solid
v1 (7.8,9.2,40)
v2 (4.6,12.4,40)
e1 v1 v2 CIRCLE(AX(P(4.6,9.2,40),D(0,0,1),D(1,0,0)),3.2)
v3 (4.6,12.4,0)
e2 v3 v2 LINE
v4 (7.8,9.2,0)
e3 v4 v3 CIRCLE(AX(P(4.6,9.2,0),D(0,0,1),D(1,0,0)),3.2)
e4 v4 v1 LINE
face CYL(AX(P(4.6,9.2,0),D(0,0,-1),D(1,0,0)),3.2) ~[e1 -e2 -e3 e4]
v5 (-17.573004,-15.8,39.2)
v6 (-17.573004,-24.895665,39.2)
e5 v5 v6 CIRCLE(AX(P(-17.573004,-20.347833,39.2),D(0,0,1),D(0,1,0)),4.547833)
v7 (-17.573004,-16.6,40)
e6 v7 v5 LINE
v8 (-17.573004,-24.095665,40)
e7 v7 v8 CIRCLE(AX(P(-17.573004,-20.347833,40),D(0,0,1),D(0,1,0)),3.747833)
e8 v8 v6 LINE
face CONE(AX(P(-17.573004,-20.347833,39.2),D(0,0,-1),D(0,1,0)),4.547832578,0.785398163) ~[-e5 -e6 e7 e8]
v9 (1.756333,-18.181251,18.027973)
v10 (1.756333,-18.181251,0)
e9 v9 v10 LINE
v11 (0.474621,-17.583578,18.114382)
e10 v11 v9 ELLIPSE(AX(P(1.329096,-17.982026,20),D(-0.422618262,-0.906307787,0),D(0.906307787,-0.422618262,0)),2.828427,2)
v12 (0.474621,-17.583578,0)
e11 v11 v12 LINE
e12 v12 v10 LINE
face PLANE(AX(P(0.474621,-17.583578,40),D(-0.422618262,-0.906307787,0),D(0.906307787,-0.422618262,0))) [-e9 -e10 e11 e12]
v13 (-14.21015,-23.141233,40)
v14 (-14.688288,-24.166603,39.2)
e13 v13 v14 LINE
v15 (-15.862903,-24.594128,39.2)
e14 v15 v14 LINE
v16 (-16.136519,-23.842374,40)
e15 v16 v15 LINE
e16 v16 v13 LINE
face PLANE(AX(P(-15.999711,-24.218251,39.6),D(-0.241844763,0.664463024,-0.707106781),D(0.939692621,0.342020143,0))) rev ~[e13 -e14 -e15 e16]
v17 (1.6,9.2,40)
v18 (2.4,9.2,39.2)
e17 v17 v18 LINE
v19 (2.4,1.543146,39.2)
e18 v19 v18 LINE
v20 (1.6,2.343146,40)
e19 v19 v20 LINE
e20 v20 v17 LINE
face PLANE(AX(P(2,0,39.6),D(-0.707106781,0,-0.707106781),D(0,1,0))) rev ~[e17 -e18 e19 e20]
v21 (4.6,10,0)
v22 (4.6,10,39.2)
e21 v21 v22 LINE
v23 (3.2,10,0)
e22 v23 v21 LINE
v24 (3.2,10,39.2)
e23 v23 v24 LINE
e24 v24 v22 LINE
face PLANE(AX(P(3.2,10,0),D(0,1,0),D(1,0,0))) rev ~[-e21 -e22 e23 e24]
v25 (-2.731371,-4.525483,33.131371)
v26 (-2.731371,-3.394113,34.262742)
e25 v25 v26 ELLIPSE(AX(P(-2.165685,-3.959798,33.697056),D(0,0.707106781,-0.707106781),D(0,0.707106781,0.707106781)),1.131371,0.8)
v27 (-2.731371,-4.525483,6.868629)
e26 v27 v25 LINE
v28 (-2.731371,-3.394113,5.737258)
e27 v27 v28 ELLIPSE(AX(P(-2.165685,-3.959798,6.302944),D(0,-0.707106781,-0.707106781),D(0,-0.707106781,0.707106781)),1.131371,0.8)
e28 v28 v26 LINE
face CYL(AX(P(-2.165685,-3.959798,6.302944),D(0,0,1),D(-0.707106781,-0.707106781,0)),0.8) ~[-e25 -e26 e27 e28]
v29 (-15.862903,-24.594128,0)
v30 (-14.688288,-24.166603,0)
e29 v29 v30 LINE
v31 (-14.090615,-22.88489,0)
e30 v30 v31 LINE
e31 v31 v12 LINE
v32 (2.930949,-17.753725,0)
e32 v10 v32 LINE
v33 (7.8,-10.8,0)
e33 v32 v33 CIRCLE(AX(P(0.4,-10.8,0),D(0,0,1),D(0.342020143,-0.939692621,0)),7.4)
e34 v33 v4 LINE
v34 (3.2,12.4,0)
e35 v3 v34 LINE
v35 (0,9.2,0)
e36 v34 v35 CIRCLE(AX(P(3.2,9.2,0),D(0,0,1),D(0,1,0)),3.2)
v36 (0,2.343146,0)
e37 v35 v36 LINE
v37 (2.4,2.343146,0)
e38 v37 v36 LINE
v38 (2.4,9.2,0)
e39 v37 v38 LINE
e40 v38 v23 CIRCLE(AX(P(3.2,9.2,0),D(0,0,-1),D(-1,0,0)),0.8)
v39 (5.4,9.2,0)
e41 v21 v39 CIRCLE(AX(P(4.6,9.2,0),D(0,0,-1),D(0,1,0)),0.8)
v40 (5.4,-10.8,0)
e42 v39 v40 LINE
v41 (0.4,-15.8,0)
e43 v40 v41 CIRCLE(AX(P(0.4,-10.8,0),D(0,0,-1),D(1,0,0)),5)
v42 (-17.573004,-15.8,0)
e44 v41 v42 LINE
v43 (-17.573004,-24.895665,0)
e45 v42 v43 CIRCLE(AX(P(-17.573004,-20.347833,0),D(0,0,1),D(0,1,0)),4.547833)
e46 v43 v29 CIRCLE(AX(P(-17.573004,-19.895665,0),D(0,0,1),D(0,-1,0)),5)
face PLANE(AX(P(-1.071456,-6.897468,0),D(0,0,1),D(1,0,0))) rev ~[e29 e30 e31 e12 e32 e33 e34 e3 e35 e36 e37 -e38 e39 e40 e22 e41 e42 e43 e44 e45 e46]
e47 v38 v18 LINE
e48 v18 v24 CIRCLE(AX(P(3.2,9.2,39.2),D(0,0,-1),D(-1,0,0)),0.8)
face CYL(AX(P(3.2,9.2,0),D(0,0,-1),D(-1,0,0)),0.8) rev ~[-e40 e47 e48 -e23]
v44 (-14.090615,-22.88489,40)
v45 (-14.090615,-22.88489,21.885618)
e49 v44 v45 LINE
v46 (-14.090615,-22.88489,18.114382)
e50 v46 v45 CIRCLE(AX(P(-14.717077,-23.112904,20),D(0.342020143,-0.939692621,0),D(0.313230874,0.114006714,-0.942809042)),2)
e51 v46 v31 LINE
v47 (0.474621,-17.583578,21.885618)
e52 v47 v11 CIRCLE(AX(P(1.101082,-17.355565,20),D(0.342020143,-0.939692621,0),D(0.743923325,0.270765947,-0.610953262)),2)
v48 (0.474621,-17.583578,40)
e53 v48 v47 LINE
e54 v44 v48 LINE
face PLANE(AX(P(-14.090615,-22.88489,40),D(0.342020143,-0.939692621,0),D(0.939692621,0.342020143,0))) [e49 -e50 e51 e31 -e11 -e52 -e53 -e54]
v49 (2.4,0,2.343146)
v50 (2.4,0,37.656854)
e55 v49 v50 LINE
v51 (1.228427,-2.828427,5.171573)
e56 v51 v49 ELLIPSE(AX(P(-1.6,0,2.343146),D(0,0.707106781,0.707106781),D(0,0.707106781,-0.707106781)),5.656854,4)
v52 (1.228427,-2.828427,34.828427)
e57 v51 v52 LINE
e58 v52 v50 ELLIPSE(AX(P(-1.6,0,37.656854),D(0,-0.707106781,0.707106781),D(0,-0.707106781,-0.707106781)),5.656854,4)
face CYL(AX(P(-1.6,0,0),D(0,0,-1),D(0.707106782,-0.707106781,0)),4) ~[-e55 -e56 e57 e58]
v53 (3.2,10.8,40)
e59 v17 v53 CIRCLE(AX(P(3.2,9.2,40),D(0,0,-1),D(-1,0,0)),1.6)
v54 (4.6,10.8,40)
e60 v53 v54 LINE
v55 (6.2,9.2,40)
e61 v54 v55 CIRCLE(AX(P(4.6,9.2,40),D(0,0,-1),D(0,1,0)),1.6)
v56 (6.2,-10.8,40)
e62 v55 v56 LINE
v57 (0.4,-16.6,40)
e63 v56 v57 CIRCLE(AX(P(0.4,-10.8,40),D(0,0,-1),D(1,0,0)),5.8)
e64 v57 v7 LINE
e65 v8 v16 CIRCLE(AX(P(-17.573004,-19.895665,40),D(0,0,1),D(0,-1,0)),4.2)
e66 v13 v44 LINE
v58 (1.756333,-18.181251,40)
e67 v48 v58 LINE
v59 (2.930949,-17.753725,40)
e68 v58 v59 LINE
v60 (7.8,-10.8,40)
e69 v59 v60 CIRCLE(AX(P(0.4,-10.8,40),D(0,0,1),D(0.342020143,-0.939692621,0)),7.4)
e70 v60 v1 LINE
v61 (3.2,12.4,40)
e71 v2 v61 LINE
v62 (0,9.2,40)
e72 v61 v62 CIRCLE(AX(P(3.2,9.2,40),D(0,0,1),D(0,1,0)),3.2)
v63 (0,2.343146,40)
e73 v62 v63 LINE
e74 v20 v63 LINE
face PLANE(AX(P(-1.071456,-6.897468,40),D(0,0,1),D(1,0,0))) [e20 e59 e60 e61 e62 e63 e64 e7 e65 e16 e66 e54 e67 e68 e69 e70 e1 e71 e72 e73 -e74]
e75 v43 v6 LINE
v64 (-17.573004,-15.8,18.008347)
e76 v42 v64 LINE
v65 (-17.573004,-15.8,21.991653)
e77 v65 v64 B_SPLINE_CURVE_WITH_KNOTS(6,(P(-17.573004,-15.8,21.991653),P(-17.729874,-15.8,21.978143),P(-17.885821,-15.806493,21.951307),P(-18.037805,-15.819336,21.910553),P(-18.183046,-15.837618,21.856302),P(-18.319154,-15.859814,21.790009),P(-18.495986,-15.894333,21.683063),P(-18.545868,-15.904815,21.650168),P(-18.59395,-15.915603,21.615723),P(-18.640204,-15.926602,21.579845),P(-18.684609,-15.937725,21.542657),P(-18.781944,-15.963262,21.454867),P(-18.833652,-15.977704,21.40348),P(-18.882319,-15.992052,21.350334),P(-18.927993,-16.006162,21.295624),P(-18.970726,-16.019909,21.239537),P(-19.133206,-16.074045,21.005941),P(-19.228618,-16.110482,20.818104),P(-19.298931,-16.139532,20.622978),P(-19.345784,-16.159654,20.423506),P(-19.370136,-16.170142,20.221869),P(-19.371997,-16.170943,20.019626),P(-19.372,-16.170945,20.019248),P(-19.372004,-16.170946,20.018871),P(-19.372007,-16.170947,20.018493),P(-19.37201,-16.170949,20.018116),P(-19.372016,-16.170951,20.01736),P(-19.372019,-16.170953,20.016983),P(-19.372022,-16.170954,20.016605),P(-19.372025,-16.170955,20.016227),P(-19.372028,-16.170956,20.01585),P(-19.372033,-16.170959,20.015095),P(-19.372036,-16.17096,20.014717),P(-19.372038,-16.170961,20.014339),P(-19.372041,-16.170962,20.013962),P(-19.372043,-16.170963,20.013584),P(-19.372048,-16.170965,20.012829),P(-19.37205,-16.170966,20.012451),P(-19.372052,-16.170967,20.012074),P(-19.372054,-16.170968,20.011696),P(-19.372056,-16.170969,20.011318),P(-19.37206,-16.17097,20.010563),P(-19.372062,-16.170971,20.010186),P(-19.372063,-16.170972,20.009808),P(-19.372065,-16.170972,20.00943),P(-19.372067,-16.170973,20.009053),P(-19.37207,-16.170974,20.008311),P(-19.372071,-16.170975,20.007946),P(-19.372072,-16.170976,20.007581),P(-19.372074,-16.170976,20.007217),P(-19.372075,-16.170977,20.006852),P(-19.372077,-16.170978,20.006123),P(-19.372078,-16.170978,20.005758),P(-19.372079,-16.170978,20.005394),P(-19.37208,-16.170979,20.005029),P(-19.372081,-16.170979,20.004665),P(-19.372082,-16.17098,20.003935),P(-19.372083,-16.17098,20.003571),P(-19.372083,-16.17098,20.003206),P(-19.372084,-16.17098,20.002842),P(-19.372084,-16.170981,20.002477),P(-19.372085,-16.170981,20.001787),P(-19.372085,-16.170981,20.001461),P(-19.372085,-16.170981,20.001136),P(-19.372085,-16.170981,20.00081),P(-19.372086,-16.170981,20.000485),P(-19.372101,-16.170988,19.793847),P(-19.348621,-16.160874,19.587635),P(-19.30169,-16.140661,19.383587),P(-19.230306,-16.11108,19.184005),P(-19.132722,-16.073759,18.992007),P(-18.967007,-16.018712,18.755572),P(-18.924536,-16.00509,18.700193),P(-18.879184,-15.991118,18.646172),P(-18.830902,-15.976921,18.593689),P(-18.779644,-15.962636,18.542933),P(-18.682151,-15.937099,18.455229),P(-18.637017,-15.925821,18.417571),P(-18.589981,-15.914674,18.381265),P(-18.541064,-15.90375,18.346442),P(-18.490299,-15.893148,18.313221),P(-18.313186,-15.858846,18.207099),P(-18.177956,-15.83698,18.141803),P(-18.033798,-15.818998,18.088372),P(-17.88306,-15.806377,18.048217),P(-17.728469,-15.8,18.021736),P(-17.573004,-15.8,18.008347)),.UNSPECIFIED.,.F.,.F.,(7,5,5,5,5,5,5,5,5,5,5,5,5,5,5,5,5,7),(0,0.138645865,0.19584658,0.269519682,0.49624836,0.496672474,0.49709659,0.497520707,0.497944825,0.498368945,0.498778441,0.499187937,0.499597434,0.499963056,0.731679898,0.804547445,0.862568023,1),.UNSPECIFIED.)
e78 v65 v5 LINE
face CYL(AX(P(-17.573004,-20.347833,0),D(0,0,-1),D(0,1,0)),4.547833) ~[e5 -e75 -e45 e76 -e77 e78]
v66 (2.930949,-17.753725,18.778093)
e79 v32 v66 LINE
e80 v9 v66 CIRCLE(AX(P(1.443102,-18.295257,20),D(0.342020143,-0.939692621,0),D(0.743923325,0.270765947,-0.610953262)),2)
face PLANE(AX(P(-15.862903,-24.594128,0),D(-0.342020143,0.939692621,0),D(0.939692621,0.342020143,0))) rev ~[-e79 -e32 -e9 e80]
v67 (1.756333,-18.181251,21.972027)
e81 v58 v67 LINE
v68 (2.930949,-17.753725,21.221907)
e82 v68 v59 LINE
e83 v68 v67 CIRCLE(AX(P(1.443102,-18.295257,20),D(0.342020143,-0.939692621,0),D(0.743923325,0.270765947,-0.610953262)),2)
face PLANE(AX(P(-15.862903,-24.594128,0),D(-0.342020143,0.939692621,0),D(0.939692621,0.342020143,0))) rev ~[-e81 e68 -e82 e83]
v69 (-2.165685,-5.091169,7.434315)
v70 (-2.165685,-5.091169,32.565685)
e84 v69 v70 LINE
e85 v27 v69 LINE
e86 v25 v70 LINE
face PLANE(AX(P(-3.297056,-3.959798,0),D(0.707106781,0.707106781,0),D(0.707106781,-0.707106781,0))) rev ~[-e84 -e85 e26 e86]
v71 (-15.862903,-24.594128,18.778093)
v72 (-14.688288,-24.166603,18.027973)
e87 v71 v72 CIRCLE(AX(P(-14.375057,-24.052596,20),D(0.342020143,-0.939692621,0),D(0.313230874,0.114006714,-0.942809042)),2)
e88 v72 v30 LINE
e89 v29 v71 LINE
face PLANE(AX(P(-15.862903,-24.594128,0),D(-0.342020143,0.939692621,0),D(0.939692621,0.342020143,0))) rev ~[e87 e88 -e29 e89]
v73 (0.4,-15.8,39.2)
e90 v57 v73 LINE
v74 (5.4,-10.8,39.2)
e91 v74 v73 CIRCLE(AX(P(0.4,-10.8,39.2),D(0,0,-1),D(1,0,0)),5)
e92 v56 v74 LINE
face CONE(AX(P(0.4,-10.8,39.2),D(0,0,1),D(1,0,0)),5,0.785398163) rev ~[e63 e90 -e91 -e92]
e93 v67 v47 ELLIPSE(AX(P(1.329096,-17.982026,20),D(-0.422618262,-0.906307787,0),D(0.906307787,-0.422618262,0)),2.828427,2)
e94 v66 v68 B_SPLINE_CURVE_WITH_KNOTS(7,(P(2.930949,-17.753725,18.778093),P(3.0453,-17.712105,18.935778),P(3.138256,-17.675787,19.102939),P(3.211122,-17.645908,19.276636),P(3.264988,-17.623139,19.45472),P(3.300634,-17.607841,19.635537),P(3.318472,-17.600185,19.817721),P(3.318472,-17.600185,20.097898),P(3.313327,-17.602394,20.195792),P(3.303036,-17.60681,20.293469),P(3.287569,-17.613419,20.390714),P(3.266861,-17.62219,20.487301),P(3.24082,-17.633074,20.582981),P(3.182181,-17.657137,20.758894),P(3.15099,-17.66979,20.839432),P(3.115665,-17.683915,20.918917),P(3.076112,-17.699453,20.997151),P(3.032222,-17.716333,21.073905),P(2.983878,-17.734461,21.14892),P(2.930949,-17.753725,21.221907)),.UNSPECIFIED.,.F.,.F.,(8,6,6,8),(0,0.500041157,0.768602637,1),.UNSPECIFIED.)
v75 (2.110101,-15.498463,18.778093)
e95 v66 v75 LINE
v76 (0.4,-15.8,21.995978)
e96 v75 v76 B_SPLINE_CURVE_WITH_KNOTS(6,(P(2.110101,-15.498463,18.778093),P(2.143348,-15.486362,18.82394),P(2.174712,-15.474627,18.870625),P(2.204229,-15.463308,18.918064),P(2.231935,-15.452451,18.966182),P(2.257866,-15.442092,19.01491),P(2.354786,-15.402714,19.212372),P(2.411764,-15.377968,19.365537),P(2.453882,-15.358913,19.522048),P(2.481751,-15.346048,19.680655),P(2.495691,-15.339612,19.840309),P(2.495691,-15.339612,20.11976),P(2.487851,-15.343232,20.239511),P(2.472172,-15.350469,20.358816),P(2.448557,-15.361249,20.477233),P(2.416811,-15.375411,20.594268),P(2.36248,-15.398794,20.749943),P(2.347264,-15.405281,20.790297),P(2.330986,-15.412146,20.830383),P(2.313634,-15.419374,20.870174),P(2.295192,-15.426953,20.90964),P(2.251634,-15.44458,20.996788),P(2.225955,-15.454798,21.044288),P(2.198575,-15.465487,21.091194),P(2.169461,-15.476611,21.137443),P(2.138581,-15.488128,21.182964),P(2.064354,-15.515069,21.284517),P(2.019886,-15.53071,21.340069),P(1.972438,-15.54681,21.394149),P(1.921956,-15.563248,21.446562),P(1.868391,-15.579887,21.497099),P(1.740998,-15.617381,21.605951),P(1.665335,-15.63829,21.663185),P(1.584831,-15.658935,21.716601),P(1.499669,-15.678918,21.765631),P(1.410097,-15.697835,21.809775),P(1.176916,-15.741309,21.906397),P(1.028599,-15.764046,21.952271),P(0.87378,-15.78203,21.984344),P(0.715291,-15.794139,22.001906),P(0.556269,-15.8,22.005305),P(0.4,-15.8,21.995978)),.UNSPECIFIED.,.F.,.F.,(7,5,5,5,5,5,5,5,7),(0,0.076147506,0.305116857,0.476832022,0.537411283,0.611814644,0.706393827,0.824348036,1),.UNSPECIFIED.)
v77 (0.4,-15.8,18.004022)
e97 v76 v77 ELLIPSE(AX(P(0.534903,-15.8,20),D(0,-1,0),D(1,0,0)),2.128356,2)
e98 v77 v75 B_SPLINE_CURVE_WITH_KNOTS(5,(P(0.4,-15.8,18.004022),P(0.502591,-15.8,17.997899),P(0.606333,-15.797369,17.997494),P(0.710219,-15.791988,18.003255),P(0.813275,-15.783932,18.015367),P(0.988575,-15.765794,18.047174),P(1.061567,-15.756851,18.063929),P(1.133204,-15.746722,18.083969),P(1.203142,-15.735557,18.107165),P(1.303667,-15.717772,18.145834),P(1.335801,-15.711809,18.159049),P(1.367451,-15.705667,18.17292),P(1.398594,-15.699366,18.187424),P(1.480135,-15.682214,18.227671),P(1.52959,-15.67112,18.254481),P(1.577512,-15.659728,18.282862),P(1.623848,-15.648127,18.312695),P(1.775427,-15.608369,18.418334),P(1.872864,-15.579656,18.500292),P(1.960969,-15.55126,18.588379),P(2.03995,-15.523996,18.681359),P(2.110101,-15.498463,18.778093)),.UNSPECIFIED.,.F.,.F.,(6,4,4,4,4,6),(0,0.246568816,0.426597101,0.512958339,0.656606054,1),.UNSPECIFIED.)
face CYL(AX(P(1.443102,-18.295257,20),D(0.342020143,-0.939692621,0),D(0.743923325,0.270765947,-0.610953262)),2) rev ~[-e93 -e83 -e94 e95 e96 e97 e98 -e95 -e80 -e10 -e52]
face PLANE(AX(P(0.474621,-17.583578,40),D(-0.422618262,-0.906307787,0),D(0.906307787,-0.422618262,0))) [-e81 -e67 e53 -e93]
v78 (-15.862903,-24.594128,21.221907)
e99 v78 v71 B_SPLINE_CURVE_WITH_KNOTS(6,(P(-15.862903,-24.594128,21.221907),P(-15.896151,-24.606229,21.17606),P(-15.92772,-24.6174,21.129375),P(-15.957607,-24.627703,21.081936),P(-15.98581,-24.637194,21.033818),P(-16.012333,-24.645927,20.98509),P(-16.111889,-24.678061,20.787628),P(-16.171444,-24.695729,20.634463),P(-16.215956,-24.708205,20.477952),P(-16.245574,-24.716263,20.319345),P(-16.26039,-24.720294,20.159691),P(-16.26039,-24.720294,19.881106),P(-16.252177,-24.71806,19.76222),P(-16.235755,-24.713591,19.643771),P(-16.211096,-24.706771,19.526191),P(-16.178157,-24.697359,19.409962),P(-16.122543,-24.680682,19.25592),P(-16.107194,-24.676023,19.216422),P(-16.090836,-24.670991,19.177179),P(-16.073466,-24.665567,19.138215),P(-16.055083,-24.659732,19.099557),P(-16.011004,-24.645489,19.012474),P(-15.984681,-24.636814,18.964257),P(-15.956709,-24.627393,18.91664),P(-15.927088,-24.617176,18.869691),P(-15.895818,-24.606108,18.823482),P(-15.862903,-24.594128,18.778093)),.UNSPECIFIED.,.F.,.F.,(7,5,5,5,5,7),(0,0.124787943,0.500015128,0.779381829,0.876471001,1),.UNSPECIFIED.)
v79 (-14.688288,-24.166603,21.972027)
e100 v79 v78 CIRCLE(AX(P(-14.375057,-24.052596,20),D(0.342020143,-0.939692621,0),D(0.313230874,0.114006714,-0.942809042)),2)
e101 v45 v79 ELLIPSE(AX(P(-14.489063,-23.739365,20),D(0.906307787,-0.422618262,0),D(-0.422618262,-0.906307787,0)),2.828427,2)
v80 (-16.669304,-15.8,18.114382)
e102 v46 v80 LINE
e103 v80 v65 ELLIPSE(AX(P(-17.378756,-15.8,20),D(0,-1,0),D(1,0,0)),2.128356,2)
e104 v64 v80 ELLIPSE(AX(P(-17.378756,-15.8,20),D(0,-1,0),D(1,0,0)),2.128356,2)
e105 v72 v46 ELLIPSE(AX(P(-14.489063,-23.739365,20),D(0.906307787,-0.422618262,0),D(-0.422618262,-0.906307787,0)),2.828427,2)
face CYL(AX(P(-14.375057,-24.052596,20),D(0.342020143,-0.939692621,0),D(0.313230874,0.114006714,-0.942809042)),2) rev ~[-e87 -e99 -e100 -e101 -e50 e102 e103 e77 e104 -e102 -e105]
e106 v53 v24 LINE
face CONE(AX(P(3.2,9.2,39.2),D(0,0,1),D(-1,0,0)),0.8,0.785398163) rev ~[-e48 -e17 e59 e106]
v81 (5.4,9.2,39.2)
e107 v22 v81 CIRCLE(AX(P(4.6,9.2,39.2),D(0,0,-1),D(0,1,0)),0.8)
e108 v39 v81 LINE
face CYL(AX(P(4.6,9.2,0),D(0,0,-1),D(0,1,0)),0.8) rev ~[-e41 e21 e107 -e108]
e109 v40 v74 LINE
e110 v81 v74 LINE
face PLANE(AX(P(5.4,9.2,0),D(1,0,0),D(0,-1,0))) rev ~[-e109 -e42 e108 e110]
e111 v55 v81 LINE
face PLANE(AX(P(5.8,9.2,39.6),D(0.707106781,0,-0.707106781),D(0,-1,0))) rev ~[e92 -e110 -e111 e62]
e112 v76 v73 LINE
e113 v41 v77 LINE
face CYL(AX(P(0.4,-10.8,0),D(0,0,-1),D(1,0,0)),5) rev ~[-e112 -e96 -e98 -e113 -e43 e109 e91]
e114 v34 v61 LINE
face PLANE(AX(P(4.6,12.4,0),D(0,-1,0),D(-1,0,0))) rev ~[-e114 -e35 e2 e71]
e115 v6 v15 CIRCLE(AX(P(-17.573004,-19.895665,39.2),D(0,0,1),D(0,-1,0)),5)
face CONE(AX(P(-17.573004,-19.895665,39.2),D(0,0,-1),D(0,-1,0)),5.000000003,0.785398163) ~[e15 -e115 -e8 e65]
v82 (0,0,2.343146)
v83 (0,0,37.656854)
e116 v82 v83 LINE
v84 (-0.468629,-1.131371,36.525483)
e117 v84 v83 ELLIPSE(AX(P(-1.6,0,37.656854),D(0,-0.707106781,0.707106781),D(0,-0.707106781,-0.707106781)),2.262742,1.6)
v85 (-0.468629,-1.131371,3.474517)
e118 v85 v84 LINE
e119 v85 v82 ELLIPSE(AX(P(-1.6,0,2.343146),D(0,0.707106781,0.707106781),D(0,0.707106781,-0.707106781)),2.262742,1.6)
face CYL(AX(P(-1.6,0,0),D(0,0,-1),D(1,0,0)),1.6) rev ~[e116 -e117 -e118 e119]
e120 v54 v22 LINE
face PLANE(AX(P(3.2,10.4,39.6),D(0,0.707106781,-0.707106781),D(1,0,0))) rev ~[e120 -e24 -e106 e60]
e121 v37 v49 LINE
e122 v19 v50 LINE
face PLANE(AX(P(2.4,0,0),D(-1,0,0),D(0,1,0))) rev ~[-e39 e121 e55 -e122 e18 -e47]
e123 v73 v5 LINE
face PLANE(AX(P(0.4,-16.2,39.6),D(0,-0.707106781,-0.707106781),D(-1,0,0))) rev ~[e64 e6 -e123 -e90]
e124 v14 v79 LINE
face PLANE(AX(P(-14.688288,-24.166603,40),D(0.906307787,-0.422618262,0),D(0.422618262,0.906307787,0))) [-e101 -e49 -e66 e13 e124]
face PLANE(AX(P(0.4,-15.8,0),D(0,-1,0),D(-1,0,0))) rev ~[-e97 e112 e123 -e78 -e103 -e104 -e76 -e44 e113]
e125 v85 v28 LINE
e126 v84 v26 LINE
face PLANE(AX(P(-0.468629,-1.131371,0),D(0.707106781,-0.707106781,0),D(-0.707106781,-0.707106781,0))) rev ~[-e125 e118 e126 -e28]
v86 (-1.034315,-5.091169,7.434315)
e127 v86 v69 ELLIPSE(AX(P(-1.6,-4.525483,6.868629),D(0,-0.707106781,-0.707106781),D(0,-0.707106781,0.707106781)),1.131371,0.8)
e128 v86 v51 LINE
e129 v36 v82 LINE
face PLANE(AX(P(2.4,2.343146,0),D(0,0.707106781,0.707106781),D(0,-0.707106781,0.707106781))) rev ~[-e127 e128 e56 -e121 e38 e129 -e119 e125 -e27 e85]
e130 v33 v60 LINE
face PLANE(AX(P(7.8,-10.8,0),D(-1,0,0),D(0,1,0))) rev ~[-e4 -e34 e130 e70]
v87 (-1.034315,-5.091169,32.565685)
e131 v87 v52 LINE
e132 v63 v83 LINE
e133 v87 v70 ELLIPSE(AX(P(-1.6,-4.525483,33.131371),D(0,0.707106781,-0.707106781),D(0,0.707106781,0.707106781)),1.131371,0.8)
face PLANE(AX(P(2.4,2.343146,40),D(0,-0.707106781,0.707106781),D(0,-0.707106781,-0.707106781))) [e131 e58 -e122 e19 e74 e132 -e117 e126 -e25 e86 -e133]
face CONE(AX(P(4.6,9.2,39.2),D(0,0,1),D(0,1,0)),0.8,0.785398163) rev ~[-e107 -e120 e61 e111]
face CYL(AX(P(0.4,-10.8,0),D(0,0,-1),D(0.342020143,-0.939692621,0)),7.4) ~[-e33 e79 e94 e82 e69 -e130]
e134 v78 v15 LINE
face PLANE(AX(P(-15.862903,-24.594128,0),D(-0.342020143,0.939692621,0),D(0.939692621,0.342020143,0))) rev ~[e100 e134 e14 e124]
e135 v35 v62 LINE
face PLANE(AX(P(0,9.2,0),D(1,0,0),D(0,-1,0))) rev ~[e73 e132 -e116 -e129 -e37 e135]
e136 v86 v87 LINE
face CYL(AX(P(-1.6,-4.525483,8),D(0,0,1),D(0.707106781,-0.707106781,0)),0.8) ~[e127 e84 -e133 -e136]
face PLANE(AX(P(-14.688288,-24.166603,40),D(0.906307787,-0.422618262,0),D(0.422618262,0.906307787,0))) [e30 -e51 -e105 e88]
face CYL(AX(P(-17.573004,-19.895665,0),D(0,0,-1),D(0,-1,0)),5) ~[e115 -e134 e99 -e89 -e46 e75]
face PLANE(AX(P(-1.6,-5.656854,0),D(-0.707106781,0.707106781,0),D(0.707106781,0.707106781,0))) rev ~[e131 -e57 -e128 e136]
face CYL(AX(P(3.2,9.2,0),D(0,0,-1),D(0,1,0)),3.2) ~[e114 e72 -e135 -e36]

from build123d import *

# Parameters (mm, degrees)
BOSS_EXTRUDE1_DEPTH = 40
CUT_EXTRUDE2_DEPTH  = 53.049260875
SKETCH4_R           = 2
CUT_EXTRUDE3_DEPTH  = 10
CHAMFER2_SIZE       = 0.8
CUT_EXTRUDE1_DEPTH  = 54.113704366
FILLET2_R           = 0.8


with BuildPart() as part:
    # Sketch1 → Boss-Extrude1 (new body)
    with BuildSketch(Plane.XY):
        with BuildLine():
            Line((2.4, 0), (2.4, 9.2))
            ThreePointArc((2.4, 9.2), (2.634314575, 9.765685425), (3.2, 10))
            Line((3.2, 10), (4.6, 10))
            ThreePointArc((4.6, 10), (5.165685425, 9.765685425), (5.4, 9.2))
            Line((5.4, 9.2), (5.4, -10.8))
            ThreePointArc((5.4, -10.8), (3.935533906, -14.335533906), (0.4, -15.8))
            Line((0.4, -15.8), (-17.573004072, -15.8))
            ThreePointArc((-17.573004072, -15.8), (-22.12083665, -20.347832578), (-17.573004072, -24.895665156))
            ThreePointArc((-17.573004072, -24.895665156), (-16.704763183, -24.819703921), (-15.862903355, -24.59412826))
            Line((-15.862903355, -24.59412826), (2.930949061, -17.753725394))
            ThreePointArc((2.930949061, -17.753725394), (6.461725128, -15.044465629), (7.8, -10.8))
            Line((7.8, -10.8), (7.8, 9.2))
            ThreePointArc((7.8, 9.2), (6.8627417, 11.4627417), (4.6, 12.4))
            Line((4.6, 12.4), (3.2, 12.4))
            ThreePointArc((3.2, 12.4), (0.9372583, 11.4627417), (0, 9.2))
            Line((0, 9.2), (0, 0))
            ThreePointArc((0, 0), (-0.121792748, -0.612293492), (-0.46862915, -1.13137085))
            Line((-0.46862915, -1.13137085), (-3.297056275, -3.959797975))
            Line((-3.297056275, -3.959797975), (-1.6, -5.656854249))
            Line((-1.6, -5.656854249), (1.228427125, -2.828427125))
            ThreePointArc((1.228427125, -2.828427125), (2.09551813, -1.530733729), (2.4, 0))
        make_face()
    extrude(amount=BOSS_EXTRUDE1_DEPTH)

    # Sketch3 → Cut-Extrude2 (cut, through all)
    with BuildSketch(Plane.XY.offset(40)):
        Polygon((-14.090615102, -22.884890317), (0.474620521, -17.583578096), (1.756333285, -18.181250573), (-14.688287579, -24.166603081), align=None)
    extrude(amount=-CUT_EXTRUDE2_DEPTH, mode=Mode.SUBTRACT)

    # Sketch4 → Cut-Extrude3 (cut)
    with BuildSketch(Plane(origin=(6.048793264, -16.618922909, 0), x_dir=(0.939692620785907, 0.34202014332567265, 0), z_dir=(0.34202014332567265, -0.939692620785907, 0))):
        with Locations(Location((-4.901273833, 20, 0), (0, 0, 322.341537994))):
            Circle(SKETCH4_R)
        with Locations(Location((-21.734607166, 20, 0), (0, 0, 289.471220634))):
            Circle(SKETCH4_R)
    extrude(amount=-CUT_EXTRUDE3_DEPTH, mode=Mode.SUBTRACT)

    # Chamfer2
    chamfer2_edges = [part.edges().sort_by_distance(p)[0] for p in [
        (-0.185786438, -4.242640687, 40),
        (2.09551813, -1.530733729, 40),
        (2.4, 4.6, 40),
        (2.634314575, 9.765685425, 40),
        (3.9, 10, 40),
        (5.165685425, 9.765685425, 40),
        (5.4, -0.8, 40),
        (3.935533906, -14.335533906, 40),
        (-8.586502036, -15.8, 40),
        (-22.12083665, -20.347832578, 40),
        (-16.704763183, -24.819703921, 40),
        (-15.275595467, -24.380365671, 40),
    ]]
    chamfer(chamfer2_edges, length=CHAMFER2_SIZE)

    # Sketch2 → Cut-Extrude1 (cut, through all)
    with BuildSketch(Plane(origin=(2.4, 0, 0), x_dir=(0, 0, -1), z_dir=(1, 0, 0))):
        Polygon((-40, 2.343145751), (-32, -5.656854249), (-40, -5.656854249), align=None)
        Polygon((0, 2.343145751), (-8, -5.656854249), (0, -5.656854249), align=None)
    extrude(amount=-CUT_EXTRUDE1_DEPTH, mode=Mode.SUBTRACT)

    # Fillet2
    fillet2_edges = [part.edges().sort_by_distance(p)[0] for p in [
        (-1.6, -5.656854249, 20),
        (-3.297056275, -3.959797975, 20),
    ]]
    fillet(fillet2_edges, radius=FILLET2_R)


solid = part.part
